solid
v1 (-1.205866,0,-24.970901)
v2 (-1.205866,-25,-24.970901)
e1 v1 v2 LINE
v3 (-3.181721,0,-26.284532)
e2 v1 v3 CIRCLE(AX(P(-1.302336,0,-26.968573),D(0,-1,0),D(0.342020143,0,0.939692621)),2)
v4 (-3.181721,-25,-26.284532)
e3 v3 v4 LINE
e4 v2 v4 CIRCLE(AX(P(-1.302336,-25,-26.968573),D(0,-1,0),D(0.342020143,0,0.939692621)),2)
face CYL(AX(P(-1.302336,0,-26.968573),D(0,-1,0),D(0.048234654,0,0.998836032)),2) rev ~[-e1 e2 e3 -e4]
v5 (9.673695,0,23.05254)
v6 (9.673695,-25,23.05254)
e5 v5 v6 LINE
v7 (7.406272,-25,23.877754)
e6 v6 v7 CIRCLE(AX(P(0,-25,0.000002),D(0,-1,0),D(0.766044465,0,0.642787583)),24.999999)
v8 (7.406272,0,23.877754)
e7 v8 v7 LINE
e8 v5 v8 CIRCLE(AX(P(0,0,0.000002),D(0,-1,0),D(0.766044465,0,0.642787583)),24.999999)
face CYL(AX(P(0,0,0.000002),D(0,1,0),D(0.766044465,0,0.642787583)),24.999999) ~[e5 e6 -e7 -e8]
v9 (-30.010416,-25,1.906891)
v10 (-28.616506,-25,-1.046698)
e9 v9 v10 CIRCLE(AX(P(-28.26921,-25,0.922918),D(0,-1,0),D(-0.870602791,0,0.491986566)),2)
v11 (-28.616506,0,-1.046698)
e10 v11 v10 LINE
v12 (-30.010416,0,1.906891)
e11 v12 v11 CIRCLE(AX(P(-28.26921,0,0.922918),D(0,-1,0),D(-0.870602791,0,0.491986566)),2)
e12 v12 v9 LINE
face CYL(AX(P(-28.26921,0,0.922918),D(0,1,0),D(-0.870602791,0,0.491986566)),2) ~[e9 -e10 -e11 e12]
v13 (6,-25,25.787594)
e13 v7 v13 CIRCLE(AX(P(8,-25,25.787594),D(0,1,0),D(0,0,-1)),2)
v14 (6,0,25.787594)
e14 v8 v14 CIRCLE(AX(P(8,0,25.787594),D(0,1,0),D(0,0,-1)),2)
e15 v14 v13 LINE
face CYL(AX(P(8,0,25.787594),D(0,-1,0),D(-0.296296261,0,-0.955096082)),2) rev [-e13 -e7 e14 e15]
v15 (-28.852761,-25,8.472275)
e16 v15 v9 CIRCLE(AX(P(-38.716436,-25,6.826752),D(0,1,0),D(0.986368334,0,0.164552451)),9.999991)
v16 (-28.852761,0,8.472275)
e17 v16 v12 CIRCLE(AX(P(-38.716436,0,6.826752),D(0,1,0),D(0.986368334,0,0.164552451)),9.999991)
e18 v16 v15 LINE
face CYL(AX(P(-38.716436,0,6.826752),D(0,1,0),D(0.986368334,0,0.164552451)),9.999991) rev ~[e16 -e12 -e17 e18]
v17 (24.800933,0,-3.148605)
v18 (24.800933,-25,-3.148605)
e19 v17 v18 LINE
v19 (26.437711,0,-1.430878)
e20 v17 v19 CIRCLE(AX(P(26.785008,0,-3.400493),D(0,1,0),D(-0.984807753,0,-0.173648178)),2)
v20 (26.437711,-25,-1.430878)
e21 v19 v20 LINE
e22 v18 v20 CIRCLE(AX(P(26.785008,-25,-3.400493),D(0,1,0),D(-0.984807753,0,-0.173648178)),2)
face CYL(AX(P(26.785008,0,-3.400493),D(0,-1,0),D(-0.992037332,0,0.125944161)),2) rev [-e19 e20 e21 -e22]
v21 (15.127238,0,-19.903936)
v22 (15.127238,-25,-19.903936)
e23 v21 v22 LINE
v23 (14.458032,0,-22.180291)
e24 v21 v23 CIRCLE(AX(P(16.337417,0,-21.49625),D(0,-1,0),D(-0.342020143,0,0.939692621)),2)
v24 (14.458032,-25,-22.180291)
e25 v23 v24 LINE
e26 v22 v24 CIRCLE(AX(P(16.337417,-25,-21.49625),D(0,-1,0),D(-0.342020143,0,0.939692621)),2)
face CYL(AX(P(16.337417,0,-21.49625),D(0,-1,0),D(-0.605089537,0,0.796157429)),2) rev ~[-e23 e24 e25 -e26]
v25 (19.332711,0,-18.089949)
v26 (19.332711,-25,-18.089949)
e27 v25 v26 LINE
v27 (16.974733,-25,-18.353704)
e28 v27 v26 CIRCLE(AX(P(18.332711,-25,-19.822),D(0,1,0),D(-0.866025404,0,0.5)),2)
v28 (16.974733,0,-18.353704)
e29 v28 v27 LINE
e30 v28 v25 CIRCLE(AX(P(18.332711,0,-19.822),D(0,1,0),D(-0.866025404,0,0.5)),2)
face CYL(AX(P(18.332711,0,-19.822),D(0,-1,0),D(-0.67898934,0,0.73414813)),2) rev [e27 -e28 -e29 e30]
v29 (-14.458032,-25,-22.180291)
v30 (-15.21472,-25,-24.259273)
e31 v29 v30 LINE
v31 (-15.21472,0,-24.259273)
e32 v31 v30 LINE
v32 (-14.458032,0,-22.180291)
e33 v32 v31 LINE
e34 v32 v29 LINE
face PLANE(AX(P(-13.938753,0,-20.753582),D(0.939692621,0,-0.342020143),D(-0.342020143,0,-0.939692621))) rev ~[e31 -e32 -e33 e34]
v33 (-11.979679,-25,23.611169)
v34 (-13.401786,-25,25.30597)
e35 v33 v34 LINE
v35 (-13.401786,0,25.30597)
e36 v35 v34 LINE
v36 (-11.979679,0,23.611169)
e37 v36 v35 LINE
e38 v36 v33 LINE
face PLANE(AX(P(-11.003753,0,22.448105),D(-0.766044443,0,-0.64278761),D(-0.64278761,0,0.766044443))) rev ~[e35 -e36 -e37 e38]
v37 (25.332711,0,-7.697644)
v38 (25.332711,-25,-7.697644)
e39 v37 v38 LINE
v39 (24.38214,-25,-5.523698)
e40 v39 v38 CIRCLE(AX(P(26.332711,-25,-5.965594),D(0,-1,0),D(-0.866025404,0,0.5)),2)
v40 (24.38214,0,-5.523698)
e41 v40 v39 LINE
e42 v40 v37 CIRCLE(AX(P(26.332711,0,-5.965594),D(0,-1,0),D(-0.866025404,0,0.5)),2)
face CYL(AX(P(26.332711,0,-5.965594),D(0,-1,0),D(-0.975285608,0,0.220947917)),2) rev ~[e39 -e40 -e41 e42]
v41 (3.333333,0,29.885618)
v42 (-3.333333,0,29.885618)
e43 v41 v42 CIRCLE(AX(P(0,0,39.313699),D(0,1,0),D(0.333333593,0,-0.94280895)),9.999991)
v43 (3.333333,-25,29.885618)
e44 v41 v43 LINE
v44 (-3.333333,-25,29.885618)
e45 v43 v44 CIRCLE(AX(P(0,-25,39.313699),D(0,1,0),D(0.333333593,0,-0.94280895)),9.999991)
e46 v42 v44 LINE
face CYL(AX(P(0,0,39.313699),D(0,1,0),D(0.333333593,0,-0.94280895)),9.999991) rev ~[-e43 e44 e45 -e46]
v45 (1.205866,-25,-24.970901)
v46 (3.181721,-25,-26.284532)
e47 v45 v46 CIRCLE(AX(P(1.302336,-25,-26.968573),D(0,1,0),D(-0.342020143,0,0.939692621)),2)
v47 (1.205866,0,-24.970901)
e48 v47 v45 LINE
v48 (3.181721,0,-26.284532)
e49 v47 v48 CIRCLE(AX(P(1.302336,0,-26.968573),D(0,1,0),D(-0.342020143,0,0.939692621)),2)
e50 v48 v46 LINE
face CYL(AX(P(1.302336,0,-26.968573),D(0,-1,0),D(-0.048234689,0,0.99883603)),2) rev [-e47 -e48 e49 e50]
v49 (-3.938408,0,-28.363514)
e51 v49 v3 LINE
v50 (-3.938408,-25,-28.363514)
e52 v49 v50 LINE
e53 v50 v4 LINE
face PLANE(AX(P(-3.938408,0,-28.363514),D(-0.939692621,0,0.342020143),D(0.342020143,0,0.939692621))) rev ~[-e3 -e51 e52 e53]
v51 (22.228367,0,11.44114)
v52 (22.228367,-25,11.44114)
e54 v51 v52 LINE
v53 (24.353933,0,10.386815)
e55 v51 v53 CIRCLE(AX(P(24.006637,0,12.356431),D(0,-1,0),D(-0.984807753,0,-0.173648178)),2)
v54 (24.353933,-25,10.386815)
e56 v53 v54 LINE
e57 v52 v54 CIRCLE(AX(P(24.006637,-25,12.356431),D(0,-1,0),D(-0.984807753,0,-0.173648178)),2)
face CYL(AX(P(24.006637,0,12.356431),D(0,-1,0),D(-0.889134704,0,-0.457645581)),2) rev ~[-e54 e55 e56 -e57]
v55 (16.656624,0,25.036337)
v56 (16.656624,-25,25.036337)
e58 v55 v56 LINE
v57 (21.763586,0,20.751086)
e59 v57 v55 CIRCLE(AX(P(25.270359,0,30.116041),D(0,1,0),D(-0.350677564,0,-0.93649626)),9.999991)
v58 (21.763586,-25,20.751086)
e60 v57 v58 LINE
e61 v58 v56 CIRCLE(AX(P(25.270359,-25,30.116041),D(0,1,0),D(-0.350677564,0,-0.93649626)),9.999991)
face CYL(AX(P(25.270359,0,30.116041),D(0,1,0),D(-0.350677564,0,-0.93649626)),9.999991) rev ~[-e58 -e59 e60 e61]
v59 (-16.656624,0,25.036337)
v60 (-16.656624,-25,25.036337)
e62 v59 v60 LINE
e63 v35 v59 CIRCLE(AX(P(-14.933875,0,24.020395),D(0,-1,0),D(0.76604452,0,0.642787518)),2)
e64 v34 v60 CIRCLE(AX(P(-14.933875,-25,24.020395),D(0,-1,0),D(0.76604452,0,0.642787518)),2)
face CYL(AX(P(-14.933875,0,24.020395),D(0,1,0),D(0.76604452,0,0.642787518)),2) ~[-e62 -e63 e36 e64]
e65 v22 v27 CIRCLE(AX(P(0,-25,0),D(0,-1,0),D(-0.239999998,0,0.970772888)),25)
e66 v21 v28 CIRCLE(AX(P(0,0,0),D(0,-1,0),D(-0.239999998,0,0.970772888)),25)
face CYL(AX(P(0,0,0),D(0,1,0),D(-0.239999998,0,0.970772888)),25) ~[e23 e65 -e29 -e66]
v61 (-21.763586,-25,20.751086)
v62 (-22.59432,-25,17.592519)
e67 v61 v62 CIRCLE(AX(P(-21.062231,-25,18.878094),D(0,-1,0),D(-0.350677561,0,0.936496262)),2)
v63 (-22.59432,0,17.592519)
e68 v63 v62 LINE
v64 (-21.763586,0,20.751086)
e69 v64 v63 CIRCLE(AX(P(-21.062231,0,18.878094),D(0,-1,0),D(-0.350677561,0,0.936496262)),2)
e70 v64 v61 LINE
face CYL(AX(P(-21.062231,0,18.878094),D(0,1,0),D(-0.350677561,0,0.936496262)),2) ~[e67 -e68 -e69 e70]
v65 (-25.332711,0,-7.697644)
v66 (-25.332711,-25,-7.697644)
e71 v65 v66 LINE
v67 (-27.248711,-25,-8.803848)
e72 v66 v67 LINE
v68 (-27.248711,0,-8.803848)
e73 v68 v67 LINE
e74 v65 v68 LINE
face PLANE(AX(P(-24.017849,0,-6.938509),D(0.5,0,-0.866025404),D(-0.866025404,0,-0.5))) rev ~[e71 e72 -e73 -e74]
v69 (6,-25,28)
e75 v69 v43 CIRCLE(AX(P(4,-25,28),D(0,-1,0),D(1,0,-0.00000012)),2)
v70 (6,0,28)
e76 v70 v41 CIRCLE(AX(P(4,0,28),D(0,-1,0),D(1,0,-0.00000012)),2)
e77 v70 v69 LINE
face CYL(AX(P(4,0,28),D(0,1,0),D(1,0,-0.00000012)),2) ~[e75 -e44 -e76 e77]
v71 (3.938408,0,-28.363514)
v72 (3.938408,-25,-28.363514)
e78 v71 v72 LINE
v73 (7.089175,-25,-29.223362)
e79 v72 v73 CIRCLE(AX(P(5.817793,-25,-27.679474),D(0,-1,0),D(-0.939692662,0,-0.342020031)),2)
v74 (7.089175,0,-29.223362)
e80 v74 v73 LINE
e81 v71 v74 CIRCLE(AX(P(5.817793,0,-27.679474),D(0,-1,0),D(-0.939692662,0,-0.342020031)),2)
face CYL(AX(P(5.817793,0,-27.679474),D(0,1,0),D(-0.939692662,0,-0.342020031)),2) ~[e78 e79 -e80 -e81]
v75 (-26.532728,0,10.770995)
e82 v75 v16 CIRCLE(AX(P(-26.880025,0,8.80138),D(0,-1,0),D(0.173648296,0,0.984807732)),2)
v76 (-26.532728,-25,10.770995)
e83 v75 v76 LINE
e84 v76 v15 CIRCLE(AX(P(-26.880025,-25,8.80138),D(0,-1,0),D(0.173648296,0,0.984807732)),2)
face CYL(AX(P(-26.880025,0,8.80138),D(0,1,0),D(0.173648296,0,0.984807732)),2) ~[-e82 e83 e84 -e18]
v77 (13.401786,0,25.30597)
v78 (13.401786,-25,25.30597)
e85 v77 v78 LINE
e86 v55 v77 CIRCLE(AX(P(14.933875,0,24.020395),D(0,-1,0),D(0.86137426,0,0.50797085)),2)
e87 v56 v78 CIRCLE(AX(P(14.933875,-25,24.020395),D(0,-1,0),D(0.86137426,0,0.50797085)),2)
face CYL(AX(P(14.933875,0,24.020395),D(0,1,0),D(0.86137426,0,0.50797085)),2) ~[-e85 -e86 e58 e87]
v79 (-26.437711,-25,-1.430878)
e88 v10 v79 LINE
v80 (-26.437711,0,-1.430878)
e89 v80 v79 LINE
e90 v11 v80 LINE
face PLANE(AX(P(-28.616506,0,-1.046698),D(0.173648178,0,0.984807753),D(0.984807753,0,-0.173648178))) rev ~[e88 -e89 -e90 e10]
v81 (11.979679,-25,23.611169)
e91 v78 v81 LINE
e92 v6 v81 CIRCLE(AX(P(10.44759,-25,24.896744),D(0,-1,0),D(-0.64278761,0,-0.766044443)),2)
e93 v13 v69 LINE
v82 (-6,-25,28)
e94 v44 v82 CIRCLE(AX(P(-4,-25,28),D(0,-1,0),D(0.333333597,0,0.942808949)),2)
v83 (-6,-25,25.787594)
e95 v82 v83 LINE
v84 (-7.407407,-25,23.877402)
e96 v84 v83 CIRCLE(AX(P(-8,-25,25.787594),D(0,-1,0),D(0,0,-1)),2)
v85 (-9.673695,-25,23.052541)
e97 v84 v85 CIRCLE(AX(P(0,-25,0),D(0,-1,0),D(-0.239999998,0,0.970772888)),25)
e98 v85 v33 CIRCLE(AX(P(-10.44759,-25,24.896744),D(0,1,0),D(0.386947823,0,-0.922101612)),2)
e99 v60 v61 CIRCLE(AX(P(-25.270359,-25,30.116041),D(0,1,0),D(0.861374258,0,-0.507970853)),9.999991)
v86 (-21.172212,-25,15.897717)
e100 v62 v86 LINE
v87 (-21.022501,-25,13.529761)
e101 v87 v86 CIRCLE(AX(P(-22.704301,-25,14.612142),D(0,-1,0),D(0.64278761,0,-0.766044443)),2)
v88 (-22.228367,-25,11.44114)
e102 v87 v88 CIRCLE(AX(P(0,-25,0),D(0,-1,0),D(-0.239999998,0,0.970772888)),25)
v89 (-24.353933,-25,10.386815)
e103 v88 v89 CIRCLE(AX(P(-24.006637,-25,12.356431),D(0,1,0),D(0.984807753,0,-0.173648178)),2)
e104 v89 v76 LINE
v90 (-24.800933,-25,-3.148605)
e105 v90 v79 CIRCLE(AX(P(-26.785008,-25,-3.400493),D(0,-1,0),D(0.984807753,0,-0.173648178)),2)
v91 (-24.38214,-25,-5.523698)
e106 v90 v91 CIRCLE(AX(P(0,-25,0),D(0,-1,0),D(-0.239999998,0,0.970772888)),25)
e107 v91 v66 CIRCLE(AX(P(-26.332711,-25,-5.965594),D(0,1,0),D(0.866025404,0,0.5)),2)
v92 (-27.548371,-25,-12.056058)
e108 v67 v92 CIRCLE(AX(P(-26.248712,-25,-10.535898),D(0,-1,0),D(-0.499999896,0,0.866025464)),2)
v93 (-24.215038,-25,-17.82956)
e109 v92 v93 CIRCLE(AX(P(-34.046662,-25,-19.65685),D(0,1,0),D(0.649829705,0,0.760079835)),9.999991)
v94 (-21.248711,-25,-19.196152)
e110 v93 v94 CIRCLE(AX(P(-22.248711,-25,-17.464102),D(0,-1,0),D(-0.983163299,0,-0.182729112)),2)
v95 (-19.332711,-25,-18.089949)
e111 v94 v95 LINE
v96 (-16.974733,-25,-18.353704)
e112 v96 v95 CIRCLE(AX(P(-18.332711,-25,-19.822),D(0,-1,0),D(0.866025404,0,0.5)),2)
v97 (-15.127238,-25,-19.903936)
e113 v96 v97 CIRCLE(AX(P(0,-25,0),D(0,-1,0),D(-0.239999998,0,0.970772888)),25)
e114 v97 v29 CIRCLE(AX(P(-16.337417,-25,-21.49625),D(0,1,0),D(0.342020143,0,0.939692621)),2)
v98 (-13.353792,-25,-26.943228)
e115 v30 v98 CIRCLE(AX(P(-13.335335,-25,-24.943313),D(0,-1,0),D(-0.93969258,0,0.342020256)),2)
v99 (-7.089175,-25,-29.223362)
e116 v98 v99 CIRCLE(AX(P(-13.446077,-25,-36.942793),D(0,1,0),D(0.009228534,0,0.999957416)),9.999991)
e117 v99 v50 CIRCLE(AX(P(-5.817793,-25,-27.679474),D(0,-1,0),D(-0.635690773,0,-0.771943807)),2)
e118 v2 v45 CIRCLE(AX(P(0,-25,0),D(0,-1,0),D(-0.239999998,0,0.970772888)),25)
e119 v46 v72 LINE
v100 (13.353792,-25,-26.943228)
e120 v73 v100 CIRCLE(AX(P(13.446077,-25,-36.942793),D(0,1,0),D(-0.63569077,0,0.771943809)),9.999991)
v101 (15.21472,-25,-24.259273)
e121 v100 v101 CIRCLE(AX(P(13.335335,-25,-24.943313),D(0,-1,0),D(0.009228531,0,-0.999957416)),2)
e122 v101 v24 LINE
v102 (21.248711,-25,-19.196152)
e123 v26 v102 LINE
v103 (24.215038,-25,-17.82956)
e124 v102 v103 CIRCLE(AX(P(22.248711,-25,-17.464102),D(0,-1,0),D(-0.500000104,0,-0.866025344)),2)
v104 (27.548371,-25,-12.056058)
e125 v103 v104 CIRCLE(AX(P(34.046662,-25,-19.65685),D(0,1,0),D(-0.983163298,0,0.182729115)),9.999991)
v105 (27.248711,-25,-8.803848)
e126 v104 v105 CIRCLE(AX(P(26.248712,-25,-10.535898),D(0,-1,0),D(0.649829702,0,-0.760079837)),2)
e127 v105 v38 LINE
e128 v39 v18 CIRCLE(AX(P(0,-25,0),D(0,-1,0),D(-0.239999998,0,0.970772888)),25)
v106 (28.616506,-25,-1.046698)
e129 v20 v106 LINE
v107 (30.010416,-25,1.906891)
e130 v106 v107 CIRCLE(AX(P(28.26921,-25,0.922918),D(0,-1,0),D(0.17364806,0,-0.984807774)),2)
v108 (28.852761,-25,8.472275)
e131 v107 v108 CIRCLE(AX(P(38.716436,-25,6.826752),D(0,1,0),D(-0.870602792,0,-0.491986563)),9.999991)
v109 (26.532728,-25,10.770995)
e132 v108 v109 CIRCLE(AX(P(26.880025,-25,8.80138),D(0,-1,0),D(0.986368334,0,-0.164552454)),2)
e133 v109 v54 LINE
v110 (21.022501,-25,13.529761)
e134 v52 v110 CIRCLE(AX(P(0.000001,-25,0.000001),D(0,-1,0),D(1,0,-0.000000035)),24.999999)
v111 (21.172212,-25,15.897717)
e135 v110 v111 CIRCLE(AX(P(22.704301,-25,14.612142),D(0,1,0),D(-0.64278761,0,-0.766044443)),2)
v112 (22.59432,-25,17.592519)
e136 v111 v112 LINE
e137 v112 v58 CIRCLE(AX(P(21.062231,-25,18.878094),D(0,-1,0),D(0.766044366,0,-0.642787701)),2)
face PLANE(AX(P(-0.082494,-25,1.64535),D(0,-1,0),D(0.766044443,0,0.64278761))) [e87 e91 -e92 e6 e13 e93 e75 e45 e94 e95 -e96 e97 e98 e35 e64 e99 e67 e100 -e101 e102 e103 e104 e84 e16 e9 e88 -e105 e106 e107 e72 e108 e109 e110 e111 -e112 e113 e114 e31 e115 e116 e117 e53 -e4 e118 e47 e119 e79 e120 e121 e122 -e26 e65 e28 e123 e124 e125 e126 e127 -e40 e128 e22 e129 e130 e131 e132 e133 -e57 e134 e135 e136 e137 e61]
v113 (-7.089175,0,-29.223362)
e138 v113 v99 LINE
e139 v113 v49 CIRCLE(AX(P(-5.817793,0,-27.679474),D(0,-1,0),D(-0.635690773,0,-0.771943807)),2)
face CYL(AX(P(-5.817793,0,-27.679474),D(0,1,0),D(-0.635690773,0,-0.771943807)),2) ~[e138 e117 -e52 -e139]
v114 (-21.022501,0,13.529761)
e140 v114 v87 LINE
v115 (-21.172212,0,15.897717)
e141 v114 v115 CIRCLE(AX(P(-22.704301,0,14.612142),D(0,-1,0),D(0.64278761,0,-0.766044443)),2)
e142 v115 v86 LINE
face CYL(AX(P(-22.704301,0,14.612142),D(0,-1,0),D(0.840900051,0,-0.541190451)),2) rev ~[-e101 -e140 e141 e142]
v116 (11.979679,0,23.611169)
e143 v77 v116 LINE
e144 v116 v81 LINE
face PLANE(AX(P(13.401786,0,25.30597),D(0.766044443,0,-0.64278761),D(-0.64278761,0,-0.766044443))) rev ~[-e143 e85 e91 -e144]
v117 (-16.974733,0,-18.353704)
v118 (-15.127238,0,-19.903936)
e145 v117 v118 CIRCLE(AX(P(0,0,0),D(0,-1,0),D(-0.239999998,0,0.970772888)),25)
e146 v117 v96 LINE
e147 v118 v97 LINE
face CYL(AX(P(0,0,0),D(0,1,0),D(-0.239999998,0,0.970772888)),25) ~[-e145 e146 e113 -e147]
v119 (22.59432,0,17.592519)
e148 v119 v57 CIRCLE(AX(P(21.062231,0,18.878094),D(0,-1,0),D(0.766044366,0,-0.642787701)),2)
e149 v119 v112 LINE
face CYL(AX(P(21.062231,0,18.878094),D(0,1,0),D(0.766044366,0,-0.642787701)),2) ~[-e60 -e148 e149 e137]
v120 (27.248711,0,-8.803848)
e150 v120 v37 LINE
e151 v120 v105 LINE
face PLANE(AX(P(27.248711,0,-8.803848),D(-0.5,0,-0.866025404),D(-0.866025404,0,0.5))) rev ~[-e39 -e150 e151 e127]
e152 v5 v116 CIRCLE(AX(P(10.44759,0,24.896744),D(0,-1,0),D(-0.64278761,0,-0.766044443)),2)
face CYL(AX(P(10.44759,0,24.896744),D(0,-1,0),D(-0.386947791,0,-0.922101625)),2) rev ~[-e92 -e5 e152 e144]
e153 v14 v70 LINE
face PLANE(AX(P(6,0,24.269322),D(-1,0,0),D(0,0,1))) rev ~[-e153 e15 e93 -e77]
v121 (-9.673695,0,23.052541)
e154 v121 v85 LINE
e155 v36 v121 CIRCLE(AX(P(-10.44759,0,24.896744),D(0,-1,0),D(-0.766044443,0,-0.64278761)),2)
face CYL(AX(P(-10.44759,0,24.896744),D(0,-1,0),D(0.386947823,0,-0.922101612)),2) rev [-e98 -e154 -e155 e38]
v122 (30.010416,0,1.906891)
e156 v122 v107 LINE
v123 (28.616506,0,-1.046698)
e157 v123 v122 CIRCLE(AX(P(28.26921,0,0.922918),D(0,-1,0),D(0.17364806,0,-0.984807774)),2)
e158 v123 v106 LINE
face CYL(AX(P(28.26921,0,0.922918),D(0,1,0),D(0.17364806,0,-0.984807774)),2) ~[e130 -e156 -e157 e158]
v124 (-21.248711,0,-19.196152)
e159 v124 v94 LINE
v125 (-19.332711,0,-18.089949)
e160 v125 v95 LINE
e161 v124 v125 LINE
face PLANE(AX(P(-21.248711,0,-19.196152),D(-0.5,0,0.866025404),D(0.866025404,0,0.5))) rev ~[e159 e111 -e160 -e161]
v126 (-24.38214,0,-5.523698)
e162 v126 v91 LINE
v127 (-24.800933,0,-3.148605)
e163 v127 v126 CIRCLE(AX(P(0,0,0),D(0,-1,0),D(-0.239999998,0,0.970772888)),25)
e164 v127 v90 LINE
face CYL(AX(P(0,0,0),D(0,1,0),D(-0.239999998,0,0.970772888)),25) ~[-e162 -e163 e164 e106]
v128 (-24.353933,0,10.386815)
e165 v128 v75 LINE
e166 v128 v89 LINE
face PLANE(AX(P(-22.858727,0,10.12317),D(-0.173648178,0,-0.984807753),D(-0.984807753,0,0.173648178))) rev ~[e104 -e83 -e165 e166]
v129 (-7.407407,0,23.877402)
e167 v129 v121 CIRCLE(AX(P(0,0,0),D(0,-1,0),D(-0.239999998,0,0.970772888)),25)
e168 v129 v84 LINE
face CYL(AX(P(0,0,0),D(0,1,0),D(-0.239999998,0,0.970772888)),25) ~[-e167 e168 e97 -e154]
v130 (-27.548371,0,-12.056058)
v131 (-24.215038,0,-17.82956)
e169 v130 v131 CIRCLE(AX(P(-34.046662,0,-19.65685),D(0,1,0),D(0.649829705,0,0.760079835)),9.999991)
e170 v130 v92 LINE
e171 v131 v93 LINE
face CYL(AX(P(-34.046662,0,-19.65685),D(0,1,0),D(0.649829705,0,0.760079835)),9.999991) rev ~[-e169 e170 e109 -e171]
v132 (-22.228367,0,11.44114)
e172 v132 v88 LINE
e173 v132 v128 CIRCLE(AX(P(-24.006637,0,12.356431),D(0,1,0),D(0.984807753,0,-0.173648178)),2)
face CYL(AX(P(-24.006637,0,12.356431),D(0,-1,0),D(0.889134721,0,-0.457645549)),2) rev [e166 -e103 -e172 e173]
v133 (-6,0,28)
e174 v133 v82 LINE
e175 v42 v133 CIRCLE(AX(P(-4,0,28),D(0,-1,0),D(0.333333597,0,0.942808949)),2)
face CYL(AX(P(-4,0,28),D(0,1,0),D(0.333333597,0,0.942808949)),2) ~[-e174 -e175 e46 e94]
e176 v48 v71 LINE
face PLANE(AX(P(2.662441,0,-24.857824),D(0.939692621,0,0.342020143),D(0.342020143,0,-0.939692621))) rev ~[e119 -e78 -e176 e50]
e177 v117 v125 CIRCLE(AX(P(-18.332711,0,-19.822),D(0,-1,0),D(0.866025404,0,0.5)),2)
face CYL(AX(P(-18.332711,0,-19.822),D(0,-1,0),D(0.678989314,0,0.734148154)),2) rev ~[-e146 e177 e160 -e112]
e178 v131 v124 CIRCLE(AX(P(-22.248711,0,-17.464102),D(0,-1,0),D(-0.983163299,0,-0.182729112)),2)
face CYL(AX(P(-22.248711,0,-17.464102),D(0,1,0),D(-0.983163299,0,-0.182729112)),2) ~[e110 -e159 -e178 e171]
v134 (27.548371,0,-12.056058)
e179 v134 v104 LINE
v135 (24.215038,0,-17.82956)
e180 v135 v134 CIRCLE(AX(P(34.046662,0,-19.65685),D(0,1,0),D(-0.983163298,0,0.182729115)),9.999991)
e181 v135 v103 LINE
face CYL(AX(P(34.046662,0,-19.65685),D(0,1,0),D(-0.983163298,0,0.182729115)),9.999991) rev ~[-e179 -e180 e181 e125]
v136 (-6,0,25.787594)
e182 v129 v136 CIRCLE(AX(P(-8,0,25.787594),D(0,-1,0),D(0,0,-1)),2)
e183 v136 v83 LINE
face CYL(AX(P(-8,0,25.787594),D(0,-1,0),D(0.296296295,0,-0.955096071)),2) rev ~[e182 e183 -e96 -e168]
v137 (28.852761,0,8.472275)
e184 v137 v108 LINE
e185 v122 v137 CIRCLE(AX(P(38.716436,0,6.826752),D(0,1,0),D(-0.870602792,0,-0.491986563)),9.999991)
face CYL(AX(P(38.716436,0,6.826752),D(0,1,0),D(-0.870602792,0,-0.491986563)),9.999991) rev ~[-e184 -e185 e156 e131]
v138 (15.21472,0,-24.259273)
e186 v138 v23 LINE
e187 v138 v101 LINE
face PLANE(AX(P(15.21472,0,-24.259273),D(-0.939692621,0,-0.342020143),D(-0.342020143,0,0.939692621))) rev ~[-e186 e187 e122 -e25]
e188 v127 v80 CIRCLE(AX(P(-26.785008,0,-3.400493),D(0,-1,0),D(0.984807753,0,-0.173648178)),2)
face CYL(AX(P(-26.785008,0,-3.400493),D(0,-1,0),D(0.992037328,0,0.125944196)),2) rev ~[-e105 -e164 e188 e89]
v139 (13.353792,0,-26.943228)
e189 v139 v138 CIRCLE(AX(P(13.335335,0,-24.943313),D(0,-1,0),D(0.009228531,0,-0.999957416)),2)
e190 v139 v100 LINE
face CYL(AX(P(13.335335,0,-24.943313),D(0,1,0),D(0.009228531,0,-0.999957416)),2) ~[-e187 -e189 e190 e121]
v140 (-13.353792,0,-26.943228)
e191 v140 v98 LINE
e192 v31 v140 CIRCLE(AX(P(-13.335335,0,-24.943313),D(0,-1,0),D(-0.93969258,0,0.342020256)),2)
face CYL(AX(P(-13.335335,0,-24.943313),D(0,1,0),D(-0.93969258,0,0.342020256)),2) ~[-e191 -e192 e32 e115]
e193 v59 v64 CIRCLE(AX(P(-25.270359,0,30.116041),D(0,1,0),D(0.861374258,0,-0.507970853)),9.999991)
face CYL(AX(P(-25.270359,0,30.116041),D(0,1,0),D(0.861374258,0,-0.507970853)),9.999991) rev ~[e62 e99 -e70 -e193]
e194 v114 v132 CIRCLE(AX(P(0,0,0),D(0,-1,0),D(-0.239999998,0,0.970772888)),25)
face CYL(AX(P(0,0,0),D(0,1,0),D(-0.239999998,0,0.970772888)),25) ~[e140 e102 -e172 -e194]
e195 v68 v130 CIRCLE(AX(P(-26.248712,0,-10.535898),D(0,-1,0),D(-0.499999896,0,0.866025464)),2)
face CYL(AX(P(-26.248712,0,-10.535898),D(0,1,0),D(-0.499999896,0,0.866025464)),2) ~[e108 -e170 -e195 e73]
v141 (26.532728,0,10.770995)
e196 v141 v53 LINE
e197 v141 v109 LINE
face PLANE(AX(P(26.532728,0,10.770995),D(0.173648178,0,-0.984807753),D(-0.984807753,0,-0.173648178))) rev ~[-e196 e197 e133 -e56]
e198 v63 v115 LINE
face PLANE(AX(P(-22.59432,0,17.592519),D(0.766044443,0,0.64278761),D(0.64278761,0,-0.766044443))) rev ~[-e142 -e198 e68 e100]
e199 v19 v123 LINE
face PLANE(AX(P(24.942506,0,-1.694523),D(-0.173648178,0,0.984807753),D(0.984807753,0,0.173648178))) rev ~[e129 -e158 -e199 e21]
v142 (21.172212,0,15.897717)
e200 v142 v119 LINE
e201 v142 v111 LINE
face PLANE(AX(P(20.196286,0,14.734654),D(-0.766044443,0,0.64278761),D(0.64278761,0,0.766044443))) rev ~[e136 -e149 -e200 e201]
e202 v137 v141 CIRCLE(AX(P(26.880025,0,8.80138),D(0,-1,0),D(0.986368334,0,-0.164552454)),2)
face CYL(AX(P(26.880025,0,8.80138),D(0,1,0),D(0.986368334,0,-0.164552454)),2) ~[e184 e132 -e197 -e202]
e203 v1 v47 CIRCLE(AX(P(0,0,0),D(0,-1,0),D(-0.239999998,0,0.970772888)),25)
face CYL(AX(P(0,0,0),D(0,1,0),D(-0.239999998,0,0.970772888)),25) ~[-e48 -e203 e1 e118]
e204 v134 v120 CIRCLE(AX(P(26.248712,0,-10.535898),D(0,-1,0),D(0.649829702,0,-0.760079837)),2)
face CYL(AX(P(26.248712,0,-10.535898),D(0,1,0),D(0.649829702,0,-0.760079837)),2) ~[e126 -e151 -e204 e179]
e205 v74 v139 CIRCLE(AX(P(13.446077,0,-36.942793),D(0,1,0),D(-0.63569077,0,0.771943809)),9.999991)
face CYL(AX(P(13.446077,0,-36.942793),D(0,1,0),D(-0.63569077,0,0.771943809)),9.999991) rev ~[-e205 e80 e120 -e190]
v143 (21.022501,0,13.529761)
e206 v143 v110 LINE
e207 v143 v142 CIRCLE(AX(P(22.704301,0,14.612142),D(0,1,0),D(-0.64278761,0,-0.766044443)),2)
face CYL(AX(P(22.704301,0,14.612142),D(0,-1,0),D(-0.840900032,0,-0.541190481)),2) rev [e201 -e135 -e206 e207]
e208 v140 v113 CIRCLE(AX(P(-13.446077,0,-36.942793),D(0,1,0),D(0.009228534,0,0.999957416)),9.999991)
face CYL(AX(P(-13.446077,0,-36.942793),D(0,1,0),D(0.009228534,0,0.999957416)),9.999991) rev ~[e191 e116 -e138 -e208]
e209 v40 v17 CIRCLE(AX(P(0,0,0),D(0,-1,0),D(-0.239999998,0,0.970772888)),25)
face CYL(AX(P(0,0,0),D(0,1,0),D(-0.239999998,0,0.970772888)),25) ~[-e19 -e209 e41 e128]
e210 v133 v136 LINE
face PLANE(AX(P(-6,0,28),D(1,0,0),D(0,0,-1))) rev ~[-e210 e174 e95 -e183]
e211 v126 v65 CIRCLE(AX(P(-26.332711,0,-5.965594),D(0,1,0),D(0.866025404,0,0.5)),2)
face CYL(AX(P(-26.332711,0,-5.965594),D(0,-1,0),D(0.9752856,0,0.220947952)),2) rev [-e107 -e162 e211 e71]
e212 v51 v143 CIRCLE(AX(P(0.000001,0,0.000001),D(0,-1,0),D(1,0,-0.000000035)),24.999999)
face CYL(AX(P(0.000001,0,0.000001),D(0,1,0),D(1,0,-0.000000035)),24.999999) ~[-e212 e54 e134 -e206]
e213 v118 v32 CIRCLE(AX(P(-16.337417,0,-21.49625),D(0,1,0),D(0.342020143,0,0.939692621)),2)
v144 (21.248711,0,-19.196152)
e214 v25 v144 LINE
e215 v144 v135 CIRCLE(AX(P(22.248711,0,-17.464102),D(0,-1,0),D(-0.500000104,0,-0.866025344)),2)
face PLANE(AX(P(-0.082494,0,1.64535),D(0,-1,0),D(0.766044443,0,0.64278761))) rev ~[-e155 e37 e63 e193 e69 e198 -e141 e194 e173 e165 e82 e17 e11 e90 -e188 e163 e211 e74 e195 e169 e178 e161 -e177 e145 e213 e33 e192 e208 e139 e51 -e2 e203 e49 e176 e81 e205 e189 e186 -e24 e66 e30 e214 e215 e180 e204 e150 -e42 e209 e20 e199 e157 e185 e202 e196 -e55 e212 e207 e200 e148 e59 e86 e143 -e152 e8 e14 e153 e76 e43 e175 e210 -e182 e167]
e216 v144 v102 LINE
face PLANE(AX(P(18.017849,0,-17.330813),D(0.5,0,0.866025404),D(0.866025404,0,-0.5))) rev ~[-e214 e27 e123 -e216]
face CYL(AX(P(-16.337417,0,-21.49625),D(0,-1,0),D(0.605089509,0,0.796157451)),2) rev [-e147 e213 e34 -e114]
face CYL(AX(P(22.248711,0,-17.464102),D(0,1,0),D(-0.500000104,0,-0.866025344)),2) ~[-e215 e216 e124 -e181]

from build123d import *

# Parameters (mm, degrees)
F1_DEPTH = 25
F2_R     = 2
F4_COUNT = 9


with BuildPart() as f1:
    # F0 (on Front) → F1 (new body)
    with BuildSketch(Plane.XZ):
        with BuildLine():
            ThreePointArc((-6, 24.269322), (-15.411035, -19.68502), (25, 0))
            ThreePointArc((25, 0), (19.68502, 15.411035), (6, 24.269322))
            ThreePointArc((6, 24.269322), (0, 25), (-6, 24.269322))
        make_face()
        with BuildLine():
            ThreePointArc((-6, 24.269322), (0, 25), (6, 24.269322))
            Line((6, 24.269322), (6, 28))
            ThreePointArc((6, 28), (5.154701, 29.632993), (3.333333, 29.885618))
            ThreePointArc((3.333333, 29.885618), (0, 29.313708), (-3.333333, 29.885618))
            ThreePointArc((-3.333333, 29.885618), (-5.154701, 29.632993), (-6, 28))
            Line((-6, 28), (-6, 24.269322))
        make_face()
    extrude(amount=F1_DEPTH)

    # F2
    f2_edges = [f1.edges().sort_by_distance(p)[0] for p in [
        (-6, -12.5, 24.269322),
        (6, -12.5, 24.269322),
    ]]
    fillet(f2_edges, radius=F2_R)

    # F4: F1 ×9 about axis
    f4_axis = Axis((0, -14.063225, 0), (0, -1, 0))


with BuildPart() as f1_1:
    add(f1.part)
    for i in range(1, F4_COUNT):
        add(f1.part.rotate(f4_axis, i * 360 / F4_COUNT))


solid = f1_1.part
